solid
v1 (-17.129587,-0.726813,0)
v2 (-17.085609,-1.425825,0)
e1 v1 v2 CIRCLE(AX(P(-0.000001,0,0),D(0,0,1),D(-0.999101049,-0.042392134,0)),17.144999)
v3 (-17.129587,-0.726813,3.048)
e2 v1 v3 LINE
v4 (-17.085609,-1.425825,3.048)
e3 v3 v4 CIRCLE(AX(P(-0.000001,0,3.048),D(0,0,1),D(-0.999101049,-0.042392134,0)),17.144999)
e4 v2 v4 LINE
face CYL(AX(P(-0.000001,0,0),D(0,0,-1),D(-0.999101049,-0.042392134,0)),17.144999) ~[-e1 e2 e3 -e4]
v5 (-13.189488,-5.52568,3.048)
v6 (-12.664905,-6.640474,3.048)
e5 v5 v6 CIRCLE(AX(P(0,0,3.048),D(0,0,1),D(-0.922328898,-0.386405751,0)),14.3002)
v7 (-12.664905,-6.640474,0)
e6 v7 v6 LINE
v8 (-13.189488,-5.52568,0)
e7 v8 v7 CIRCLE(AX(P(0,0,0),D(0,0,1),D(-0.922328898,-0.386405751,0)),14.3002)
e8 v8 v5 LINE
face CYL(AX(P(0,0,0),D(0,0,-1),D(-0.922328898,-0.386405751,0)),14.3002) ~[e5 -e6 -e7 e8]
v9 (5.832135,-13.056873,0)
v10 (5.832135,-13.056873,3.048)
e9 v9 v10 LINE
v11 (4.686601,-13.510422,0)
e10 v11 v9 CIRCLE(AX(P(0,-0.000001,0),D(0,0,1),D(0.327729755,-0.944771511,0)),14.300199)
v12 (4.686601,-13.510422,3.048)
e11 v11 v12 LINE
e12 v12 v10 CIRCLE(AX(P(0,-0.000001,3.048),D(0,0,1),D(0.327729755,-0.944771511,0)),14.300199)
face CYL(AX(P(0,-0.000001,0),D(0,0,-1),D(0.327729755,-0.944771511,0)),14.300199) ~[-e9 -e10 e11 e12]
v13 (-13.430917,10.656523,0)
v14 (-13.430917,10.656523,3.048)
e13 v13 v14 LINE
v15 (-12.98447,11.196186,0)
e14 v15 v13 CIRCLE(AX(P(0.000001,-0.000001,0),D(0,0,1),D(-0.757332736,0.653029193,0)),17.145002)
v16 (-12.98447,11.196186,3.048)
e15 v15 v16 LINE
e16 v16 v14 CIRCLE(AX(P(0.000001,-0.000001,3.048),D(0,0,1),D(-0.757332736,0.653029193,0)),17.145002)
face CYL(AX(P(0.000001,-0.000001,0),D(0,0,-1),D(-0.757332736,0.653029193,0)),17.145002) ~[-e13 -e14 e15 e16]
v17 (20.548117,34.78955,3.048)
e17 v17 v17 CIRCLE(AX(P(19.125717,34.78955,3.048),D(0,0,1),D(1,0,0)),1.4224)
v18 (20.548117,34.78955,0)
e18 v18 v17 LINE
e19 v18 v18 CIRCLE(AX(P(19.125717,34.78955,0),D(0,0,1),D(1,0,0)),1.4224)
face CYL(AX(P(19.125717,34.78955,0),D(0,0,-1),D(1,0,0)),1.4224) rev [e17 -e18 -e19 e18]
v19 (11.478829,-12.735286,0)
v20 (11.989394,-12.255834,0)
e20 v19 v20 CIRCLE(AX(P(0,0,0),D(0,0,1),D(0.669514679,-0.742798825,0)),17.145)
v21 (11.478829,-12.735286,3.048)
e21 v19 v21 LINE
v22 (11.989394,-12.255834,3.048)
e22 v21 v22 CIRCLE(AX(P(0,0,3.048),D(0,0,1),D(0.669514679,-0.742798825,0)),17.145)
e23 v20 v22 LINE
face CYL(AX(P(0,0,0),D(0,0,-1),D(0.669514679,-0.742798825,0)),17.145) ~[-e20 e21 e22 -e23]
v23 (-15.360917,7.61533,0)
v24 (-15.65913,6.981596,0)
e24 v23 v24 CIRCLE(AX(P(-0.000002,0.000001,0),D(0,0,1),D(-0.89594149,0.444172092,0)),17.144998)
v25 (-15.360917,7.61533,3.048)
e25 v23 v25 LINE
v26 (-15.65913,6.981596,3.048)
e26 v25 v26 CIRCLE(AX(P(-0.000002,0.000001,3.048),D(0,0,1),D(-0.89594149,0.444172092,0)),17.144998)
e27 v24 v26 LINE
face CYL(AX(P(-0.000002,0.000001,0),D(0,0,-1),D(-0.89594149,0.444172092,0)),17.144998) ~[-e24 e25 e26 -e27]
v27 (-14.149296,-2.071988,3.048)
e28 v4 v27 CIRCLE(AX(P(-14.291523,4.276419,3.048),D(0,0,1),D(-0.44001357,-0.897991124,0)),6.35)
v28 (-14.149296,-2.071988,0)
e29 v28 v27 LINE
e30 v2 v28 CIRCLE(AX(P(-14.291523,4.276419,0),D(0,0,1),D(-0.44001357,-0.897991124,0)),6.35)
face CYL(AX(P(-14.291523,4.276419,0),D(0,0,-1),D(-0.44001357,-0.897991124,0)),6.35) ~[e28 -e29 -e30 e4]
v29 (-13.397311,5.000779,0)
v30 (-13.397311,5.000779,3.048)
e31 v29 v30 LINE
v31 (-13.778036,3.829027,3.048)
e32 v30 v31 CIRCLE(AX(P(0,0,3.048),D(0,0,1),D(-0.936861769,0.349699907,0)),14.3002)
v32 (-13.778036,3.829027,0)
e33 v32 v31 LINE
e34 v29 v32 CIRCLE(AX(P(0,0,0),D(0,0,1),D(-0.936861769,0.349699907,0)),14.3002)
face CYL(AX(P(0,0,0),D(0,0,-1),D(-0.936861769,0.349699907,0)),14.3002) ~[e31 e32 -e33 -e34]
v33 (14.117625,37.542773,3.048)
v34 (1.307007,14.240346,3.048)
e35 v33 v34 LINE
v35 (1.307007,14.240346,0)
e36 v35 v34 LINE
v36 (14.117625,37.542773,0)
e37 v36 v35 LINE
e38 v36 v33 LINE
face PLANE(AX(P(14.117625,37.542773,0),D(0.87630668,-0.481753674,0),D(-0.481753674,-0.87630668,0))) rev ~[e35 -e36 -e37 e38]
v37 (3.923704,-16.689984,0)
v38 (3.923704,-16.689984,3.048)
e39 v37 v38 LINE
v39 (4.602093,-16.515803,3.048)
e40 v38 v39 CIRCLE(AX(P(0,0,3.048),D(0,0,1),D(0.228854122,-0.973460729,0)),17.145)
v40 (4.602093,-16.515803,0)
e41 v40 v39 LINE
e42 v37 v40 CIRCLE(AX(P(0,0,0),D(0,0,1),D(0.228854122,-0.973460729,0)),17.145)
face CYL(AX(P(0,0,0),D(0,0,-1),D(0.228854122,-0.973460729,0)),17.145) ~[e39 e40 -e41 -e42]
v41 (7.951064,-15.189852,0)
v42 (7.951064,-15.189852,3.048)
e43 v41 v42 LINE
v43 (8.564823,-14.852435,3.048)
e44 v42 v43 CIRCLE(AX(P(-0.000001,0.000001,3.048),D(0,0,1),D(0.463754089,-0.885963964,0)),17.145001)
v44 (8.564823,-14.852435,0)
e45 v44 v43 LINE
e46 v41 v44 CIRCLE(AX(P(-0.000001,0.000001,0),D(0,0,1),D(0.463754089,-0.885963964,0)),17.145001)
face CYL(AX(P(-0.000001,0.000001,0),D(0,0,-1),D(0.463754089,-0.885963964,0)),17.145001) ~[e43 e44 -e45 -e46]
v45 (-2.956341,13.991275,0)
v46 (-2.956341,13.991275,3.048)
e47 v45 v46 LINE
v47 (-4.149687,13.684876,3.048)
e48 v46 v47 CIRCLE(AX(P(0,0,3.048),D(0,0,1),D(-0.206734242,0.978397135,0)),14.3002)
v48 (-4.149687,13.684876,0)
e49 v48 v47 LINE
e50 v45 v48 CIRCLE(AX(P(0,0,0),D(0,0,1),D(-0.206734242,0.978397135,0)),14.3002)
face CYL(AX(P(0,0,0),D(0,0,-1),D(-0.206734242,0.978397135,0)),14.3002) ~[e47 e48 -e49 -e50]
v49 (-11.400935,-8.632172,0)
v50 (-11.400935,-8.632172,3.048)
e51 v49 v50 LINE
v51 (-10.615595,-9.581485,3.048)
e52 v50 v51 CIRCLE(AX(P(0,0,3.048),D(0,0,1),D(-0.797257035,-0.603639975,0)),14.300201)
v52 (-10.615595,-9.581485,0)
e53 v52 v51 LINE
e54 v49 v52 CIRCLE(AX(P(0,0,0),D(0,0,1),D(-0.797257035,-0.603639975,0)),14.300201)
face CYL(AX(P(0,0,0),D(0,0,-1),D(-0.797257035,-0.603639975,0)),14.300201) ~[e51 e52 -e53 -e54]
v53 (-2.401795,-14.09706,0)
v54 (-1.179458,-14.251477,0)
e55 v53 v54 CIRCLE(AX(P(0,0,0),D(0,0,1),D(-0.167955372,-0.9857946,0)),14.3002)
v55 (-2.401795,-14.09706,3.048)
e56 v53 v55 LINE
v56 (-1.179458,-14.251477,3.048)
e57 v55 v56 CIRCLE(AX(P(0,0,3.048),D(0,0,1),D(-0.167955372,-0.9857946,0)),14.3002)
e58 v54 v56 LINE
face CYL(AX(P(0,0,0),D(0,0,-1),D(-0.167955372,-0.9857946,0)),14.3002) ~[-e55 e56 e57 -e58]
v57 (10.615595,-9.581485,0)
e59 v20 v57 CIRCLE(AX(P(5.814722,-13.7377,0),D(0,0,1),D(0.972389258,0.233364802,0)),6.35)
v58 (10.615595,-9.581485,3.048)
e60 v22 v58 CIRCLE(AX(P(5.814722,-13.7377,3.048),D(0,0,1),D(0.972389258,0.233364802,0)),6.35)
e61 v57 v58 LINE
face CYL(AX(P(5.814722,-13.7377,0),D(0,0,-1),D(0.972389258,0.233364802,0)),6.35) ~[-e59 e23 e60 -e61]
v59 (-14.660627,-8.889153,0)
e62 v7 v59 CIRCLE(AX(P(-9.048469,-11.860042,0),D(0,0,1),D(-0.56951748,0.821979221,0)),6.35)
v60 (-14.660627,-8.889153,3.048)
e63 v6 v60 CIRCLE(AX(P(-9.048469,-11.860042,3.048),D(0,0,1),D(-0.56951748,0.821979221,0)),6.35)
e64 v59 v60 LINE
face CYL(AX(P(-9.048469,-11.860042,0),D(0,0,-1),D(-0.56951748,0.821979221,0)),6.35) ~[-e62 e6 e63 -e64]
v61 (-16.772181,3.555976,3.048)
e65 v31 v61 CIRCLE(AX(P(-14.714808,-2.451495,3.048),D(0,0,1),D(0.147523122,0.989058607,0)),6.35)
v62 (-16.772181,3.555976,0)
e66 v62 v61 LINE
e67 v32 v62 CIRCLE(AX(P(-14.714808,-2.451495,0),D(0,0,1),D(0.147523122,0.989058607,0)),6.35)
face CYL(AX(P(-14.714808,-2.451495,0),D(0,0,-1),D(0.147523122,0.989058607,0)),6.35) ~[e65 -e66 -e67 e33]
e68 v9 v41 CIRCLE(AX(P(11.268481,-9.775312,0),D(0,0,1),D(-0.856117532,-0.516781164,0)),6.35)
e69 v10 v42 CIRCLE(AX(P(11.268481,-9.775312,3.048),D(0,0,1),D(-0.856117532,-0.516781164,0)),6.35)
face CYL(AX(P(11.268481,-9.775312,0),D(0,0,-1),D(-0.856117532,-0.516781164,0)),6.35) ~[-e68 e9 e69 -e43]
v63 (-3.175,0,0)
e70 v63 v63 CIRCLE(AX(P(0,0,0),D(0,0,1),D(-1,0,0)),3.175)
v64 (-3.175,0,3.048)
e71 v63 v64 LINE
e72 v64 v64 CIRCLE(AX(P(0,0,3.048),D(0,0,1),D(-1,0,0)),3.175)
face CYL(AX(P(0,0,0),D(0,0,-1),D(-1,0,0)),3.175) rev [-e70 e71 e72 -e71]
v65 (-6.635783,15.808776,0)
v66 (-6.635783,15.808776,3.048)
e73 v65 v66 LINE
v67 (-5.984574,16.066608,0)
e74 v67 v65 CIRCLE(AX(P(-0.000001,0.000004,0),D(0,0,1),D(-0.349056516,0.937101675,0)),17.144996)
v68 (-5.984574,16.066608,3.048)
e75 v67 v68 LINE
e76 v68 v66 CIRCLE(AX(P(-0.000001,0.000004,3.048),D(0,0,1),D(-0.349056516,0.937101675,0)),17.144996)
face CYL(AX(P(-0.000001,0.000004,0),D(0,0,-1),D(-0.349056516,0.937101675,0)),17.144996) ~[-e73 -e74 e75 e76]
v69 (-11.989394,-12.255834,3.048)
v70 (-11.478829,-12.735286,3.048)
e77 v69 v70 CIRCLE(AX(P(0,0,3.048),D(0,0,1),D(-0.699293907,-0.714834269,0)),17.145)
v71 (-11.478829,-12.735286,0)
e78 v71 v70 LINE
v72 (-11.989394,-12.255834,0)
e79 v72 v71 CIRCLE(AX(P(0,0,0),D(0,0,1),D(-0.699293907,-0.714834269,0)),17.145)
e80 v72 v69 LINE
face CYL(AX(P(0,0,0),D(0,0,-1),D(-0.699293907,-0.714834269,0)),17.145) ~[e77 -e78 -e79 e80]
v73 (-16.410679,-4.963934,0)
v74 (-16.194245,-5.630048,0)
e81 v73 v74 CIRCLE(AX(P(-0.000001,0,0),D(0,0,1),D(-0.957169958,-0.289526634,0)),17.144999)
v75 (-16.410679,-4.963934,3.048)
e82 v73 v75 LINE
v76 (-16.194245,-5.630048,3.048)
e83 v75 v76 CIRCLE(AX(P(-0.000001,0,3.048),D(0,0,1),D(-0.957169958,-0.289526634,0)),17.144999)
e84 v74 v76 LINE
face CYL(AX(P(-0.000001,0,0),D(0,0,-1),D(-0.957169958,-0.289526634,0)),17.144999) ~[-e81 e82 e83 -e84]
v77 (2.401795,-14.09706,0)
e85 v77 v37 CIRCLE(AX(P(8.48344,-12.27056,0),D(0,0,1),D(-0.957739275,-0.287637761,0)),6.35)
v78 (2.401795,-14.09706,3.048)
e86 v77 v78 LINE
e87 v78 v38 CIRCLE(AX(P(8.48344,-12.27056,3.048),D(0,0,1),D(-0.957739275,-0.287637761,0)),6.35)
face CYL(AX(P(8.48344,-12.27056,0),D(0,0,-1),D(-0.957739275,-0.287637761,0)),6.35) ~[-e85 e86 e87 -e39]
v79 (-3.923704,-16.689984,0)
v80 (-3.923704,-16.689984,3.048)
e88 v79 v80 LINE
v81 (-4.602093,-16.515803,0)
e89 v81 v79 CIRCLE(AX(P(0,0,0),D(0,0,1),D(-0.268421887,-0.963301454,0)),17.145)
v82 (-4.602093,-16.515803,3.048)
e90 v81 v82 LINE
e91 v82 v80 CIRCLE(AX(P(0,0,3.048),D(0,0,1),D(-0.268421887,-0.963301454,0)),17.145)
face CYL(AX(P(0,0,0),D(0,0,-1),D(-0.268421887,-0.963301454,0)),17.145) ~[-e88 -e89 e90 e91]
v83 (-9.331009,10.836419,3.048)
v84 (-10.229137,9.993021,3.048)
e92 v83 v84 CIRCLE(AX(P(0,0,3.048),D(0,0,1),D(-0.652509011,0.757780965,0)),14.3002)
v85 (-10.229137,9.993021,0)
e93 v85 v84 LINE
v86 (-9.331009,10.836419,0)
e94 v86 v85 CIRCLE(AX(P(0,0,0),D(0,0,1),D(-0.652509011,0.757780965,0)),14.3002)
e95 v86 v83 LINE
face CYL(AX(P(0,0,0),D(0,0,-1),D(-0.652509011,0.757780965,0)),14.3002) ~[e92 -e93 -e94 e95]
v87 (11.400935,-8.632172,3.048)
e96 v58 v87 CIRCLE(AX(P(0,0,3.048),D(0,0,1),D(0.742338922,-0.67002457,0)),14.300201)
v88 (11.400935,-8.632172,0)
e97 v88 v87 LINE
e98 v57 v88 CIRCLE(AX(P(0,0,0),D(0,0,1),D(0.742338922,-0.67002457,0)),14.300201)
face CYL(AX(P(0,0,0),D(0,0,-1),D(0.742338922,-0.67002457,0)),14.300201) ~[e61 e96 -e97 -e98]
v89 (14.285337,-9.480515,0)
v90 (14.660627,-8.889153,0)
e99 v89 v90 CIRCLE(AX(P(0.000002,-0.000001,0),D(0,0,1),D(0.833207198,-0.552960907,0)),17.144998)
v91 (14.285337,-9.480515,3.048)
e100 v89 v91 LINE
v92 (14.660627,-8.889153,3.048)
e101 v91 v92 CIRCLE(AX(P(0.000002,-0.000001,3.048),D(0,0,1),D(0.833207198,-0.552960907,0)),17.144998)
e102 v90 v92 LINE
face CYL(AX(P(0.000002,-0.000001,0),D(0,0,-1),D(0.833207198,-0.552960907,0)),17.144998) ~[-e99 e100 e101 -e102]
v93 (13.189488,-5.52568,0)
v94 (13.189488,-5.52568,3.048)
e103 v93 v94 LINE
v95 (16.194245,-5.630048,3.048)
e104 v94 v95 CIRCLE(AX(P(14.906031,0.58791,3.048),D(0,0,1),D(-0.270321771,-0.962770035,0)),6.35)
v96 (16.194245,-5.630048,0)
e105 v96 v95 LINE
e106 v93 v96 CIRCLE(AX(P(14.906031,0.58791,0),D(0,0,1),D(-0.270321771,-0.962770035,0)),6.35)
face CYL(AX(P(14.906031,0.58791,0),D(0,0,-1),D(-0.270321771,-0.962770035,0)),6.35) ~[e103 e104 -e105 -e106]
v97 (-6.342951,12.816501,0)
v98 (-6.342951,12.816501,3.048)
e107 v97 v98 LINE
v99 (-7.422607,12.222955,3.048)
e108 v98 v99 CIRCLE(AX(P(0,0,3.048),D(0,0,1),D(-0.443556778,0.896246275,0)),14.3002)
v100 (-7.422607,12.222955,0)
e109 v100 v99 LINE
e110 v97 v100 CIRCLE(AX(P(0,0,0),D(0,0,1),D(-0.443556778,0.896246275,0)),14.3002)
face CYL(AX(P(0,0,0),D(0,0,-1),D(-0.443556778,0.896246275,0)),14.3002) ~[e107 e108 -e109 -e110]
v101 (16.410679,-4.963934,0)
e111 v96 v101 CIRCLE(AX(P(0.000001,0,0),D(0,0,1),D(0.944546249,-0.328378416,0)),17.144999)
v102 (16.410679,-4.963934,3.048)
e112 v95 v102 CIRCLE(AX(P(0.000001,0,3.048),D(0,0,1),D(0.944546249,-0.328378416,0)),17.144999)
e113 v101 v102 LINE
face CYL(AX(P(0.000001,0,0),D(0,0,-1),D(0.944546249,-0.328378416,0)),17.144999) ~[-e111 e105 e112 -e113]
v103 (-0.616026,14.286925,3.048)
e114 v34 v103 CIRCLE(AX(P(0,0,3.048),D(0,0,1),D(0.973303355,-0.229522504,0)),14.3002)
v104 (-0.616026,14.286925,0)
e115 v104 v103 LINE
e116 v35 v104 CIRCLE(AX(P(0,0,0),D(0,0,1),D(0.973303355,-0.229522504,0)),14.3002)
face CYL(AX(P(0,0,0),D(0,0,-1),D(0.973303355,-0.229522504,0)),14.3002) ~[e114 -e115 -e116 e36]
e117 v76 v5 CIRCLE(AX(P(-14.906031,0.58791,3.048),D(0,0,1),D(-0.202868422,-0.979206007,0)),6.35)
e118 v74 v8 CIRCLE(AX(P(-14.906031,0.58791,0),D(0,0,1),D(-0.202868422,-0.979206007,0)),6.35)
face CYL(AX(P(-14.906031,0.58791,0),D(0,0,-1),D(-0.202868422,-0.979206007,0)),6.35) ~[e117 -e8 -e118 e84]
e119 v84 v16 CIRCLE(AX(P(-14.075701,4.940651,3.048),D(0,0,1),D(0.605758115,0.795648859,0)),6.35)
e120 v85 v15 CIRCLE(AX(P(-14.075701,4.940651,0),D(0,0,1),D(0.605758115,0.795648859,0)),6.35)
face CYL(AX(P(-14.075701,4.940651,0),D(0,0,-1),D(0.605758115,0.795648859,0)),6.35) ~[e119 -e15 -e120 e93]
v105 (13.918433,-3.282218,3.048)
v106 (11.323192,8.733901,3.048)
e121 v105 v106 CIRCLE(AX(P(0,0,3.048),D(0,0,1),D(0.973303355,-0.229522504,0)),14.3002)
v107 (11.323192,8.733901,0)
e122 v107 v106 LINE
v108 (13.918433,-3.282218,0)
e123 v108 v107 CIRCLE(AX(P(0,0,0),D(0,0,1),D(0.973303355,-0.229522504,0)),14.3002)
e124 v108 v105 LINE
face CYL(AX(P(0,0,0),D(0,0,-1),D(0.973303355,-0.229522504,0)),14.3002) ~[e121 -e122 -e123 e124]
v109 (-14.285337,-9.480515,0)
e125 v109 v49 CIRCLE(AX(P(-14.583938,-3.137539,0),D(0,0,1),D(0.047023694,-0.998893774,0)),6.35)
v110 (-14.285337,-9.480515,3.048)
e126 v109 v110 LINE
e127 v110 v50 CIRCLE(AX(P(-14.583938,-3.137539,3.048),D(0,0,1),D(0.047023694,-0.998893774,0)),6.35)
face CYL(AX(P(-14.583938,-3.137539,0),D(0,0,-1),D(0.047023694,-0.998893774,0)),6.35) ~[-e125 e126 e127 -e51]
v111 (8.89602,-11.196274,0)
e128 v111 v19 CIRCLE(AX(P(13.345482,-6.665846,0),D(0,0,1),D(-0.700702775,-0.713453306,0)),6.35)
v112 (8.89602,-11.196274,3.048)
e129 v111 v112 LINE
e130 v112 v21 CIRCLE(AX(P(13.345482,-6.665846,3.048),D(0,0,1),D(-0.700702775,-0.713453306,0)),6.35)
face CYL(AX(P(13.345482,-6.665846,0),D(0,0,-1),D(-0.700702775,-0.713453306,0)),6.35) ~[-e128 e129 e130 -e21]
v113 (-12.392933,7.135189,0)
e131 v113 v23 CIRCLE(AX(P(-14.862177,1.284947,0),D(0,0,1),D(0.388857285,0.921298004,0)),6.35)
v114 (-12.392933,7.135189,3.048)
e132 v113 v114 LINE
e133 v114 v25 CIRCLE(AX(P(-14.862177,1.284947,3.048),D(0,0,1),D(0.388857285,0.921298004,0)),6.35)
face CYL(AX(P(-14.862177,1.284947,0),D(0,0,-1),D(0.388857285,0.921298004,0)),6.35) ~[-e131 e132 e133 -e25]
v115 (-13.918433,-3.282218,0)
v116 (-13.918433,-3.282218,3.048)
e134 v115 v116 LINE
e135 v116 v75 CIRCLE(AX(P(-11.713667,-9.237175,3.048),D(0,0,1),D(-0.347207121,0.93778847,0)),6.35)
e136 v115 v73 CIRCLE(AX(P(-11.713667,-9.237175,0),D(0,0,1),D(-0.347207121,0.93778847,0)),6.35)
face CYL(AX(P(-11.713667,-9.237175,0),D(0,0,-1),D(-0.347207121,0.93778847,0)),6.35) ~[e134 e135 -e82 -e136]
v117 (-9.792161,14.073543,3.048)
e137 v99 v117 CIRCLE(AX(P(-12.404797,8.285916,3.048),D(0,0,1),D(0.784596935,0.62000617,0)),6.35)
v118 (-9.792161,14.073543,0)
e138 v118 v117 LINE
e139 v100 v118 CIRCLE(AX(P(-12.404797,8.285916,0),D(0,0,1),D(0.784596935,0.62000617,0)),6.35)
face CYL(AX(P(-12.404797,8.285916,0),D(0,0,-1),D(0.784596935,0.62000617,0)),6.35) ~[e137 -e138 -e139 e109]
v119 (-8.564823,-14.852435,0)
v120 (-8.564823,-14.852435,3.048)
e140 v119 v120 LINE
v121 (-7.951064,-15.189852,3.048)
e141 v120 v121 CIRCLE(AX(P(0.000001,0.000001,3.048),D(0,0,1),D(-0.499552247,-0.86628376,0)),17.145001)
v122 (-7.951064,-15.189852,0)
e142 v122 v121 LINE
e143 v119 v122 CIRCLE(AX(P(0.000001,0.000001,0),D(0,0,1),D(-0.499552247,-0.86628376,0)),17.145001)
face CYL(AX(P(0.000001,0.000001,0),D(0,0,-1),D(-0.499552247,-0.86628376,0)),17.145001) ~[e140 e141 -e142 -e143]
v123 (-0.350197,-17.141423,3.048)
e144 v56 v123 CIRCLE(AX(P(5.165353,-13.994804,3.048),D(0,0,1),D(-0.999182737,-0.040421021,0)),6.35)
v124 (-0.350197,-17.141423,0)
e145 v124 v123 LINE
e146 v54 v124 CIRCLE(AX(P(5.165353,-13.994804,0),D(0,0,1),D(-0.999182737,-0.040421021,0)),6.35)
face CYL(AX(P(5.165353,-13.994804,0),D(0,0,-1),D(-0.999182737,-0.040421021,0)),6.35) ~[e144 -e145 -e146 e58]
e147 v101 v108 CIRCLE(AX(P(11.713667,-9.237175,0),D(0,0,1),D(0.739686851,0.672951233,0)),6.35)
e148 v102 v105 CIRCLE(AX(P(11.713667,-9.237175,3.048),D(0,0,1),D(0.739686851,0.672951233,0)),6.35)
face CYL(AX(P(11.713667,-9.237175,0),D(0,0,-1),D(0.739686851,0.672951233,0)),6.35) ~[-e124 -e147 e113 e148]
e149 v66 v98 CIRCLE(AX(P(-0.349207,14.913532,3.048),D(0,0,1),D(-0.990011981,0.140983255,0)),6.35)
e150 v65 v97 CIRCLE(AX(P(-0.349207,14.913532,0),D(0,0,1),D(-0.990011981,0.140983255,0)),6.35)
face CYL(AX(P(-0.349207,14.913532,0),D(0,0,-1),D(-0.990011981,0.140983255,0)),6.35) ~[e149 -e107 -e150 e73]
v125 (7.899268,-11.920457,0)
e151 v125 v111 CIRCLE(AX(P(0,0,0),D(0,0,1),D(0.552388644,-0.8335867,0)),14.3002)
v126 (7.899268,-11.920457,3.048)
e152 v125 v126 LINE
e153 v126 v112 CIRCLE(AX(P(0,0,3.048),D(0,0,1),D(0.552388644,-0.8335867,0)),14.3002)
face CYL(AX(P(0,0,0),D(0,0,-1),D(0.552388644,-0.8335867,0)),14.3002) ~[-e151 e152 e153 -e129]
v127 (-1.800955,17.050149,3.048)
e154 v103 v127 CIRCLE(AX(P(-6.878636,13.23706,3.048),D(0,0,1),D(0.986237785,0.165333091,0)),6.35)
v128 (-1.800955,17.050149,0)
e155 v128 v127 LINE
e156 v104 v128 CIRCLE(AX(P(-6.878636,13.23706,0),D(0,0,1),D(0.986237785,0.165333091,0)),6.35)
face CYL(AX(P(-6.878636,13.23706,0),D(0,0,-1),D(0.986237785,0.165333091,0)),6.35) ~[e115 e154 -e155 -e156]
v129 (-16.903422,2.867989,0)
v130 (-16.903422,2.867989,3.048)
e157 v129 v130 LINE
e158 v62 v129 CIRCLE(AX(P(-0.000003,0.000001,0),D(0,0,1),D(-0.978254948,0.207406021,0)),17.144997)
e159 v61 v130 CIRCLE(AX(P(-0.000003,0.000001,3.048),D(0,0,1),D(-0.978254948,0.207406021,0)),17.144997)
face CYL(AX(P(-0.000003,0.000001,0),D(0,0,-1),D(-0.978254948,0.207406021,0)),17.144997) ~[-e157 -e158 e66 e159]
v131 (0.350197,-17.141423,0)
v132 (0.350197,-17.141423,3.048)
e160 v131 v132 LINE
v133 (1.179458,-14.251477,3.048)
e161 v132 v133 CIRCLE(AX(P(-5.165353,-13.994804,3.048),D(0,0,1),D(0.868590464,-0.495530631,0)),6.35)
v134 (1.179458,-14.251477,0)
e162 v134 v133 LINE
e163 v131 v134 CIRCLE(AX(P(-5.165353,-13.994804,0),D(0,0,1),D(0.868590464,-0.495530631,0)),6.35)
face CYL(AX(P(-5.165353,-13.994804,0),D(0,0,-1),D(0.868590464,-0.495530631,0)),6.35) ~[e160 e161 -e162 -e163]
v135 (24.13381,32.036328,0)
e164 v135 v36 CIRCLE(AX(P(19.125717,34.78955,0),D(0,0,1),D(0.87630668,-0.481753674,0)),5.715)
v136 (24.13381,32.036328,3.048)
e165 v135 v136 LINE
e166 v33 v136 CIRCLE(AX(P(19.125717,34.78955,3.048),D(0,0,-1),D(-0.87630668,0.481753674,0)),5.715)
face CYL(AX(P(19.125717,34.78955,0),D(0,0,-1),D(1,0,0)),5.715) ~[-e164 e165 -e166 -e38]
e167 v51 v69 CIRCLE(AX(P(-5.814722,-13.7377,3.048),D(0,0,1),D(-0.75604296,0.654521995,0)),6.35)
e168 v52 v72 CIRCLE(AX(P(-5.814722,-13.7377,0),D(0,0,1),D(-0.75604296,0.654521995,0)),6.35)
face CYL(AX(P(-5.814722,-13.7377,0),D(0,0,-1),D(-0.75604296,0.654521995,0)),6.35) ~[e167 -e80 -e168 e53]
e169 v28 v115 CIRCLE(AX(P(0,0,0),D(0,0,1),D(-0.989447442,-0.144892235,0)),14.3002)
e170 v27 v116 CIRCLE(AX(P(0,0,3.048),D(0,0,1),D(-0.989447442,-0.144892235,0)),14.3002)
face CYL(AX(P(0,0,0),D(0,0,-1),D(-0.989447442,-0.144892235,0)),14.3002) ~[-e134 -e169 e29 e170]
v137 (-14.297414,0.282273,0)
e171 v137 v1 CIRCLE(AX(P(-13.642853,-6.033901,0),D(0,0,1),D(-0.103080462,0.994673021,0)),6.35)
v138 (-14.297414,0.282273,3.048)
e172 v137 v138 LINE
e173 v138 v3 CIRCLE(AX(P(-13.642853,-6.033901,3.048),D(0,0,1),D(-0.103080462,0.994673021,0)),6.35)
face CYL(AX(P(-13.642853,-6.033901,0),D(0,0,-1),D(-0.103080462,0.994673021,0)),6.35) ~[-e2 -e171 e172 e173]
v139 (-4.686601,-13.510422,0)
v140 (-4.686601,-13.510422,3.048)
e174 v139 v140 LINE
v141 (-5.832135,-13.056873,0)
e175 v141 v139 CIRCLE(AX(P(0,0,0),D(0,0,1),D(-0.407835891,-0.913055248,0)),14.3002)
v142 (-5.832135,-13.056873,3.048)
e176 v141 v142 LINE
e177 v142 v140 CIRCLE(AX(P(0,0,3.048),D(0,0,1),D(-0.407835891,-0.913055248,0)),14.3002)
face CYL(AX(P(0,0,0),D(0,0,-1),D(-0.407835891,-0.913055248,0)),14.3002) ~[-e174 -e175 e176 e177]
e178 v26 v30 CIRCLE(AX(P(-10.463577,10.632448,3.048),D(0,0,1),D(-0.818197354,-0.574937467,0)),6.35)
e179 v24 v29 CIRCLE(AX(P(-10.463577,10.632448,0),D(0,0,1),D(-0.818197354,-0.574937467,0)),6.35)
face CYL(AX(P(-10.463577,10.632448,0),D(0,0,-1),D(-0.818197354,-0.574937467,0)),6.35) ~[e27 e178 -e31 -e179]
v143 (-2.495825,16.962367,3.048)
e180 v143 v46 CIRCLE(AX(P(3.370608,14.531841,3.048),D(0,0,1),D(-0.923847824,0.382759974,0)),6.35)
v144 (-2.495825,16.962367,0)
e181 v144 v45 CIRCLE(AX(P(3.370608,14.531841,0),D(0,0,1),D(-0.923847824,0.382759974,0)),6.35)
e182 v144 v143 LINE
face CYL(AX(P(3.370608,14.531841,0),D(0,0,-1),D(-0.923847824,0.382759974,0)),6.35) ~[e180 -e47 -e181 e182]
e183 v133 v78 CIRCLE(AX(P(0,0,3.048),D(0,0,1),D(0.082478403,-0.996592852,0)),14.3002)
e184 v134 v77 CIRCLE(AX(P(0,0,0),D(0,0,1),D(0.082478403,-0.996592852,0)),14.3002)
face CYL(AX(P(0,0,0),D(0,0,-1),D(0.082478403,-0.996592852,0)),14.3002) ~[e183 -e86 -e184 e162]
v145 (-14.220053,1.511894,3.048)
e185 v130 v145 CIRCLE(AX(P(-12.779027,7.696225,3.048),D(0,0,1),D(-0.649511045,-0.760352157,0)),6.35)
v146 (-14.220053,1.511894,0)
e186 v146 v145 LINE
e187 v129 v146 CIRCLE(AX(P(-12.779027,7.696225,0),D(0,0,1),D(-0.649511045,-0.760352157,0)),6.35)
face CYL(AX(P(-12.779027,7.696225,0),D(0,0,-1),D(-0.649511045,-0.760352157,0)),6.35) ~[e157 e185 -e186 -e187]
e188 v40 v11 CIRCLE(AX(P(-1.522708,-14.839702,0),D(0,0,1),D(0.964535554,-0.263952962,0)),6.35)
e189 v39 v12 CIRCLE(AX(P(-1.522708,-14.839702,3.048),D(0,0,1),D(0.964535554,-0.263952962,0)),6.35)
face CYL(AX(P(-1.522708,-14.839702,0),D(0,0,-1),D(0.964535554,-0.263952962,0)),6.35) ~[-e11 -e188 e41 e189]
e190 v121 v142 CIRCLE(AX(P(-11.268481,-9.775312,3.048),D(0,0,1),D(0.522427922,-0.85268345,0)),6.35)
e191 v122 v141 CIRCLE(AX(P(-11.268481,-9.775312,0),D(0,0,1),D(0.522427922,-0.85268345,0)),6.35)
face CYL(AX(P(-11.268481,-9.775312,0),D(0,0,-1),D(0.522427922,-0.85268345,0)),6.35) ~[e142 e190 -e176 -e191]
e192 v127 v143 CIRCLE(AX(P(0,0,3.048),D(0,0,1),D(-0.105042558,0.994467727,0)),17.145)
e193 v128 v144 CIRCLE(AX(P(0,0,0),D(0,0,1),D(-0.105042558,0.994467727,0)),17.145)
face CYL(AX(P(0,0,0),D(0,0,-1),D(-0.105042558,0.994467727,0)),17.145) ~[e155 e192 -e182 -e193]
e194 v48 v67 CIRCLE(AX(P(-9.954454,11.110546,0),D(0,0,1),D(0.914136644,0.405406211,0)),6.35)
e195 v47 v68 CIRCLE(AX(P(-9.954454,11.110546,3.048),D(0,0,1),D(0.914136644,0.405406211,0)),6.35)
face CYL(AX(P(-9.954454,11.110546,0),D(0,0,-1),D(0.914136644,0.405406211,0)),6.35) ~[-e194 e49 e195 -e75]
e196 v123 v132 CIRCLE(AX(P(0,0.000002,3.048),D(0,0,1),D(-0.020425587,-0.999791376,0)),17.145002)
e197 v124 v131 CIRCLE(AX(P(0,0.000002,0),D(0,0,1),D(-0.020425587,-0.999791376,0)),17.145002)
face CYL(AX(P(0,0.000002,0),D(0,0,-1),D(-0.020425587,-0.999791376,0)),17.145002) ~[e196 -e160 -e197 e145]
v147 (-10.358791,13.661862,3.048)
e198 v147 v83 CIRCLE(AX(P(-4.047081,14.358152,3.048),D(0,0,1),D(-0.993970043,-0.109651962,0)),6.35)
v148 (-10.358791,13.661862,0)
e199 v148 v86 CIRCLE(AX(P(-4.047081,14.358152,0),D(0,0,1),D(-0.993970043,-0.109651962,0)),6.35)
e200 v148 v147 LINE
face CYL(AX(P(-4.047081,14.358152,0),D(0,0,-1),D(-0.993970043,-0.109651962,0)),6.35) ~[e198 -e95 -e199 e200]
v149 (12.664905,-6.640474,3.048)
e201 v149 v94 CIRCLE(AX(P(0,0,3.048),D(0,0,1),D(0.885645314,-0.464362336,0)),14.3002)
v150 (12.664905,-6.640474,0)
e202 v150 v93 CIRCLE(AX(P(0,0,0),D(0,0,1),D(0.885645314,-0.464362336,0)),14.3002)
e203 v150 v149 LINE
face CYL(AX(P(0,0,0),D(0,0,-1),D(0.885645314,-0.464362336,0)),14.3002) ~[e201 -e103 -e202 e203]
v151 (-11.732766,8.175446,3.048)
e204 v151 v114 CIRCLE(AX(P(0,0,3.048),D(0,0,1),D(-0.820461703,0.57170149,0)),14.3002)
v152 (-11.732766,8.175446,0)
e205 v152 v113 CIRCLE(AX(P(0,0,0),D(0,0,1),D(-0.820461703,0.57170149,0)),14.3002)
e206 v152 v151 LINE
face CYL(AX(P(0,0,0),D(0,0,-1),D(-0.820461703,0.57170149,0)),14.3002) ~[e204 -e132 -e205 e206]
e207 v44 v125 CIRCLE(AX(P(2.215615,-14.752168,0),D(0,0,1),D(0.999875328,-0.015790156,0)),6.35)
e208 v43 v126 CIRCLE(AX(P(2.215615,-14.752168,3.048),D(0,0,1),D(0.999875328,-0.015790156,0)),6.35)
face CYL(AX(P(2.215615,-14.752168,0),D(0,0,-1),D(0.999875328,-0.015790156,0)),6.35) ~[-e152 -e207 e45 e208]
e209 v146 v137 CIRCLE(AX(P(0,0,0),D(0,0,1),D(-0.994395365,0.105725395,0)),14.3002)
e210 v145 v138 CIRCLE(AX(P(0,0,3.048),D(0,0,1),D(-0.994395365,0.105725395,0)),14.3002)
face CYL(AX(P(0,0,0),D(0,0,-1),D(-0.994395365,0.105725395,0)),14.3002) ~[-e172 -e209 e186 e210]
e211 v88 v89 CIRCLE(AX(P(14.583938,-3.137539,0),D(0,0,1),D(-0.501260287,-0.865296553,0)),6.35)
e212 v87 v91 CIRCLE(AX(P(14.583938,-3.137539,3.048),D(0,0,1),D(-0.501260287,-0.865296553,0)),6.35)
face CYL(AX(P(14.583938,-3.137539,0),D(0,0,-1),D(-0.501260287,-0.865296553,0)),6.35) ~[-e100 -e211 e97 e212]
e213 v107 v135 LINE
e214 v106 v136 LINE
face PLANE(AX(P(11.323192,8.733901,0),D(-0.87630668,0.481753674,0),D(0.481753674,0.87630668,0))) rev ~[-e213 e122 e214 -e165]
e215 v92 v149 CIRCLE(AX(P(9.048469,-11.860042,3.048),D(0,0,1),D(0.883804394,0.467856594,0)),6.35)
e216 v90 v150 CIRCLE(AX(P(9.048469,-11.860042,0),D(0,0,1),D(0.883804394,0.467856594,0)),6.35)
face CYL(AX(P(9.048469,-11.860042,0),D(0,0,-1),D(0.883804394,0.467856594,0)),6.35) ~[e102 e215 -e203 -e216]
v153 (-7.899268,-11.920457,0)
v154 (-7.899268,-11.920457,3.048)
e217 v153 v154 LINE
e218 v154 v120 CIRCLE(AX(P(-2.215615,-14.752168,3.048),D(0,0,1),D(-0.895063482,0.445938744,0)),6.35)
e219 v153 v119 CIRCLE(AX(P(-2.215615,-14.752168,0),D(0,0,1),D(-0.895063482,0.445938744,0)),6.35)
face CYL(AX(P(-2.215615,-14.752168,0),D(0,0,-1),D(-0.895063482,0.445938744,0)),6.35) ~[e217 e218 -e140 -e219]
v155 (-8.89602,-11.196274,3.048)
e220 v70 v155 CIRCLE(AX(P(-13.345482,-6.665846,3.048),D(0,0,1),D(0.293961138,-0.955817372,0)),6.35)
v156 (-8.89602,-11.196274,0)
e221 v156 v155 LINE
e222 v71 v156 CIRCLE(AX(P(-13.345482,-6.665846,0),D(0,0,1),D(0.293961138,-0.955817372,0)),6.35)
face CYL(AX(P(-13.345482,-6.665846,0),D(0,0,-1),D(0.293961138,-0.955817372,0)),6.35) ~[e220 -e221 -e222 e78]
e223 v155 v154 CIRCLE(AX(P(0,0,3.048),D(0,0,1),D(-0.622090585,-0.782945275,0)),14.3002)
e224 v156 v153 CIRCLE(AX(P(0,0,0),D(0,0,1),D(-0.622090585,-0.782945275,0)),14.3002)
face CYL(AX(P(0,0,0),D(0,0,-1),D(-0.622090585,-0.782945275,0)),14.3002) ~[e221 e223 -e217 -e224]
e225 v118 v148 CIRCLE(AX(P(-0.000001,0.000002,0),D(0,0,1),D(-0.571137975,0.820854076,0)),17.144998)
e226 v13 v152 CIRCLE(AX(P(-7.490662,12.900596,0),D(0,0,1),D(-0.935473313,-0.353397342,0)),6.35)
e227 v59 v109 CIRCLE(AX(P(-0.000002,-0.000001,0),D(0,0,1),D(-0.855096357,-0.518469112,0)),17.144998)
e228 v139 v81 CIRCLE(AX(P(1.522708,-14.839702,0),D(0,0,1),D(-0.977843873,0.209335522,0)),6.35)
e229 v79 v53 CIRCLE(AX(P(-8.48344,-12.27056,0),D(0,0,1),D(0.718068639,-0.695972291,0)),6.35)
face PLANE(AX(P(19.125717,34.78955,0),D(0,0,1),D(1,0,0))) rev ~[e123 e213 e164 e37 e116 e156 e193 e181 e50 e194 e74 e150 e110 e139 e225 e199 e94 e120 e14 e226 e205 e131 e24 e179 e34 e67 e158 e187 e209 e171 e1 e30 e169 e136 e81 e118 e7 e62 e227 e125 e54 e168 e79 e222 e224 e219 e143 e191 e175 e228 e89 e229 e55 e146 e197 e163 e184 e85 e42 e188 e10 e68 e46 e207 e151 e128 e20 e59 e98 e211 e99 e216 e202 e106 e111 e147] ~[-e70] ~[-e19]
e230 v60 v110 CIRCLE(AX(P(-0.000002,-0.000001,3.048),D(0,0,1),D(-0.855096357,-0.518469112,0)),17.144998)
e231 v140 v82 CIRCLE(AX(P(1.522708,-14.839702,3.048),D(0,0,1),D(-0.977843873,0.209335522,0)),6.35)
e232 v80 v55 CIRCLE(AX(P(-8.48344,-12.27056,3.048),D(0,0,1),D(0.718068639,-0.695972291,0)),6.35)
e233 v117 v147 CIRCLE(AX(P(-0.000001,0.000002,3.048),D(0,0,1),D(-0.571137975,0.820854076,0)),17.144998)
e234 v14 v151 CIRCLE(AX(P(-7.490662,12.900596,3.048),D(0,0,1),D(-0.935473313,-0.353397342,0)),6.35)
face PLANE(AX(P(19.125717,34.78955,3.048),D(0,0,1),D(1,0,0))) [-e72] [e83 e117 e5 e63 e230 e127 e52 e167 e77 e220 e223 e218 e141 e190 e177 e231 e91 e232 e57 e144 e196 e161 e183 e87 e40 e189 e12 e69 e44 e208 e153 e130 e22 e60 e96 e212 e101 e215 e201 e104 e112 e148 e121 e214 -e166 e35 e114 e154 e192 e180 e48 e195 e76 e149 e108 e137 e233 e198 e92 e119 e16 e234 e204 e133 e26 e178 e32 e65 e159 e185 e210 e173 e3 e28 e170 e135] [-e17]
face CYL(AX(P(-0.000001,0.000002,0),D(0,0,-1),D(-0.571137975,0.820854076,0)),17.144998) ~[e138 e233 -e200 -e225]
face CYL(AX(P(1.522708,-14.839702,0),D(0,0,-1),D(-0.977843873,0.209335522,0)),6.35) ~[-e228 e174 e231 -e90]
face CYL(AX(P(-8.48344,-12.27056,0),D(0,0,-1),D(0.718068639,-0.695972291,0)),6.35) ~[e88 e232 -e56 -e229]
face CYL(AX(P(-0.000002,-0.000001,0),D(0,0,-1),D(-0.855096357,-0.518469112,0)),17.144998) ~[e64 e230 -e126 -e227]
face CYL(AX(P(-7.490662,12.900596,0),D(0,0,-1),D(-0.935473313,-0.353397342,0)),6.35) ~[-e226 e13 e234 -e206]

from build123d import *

# Parameters (mm, degrees)
MODEL_R             = 3.175
BOSS_EXTRUDE1_DEPTH = 3.048
BOSS_EXTRUDE2_START = -3.048
SKETCH2_R           = 5.715
SKETCH2_R_2         = 1.4224
BOSS_EXTRUDE2_DEPTH = 3.048


with BuildPart() as part:
    # Model → Boss-Extrude1 (new body)
    with BuildSketch(Plane.XY):
        with BuildLine():
            ThreePointArc((-0.616026415, 14.286925194), (-1.042592722, 15.739677645), (-1.800954663, 17.050149187))
            ThreePointArc((-1.800954663, 17.050149187), (-2.148838289, 17.009806554), (-2.495825317, 16.962366609))
            ThreePointArc((-2.495825317, 16.962366609), (-2.904460903, 15.504468994), (-2.956341002, 13.991274707))
            ThreePointArc((-2.956341002, 13.991274707), (-3.556315124, 13.850932921), (-4.149686627, 13.684875627))
            ThreePointArc((-4.149686627, 13.684875627), (-4.924136412, 14.985904462), (-5.984574038, 16.066608185))
            ThreePointArc((-5.984574038, 16.066608185), (-6.311495456, 15.941017851), (-6.635783413, 15.808776154))
            ThreePointArc((-6.635783413, 15.808776154), (-6.669016568, 14.295057536), (-6.342950641, 12.816500973))
            ThreePointArc((-6.342950641, 12.816500973), (-6.88917389, 12.531360786), (-7.422606766, 12.222954996))
            ThreePointArc((-7.422606766, 12.222954996), (-8.496278501, 13.290511787), (-9.792160616, 14.073543103))
            ThreePointArc((-9.792160616, 14.073543103), (-10.077578151, 13.870596369), (-10.358790833, 13.661862153))
            ThreePointArc((-10.358790833, 13.661862153), (-10.014533394, 12.187435039), (-9.331009364, 10.836419348))
            ThreePointArc((-9.331009364, 10.836419348), (-9.789160524, 10.424397166), (-10.229137224, 9.993021149))
            ThreePointArc((-10.229137224, 9.993021149), (-11.534568165, 10.760027378), (-12.98446973, 11.196185548))
            ThreePointArc((-12.98446973, 11.196185548), (-13.210449547, 10.928634304), (-13.430917328, 10.656523107))
            ThreePointArc((-13.430917328, 10.656523107), (-12.730800257, 9.314031176), (-11.732766451, 8.175445642))
            ThreePointArc((-11.732766451, 8.175445642), (-12.0740582, 7.662430334), (-12.39293337, 7.135189032))
            ThreePointArc((-12.39293337, 7.135189032), (-13.84809849, 7.553450876), (-15.360916858, 7.615330478))
            ThreePointArc((-15.360916858, 7.615330478), (-15.513259815, 7.299985954), (-15.659129891, 6.981595523))
            ThreePointArc((-15.659129891, 6.981595523), (-14.647144119, 5.85539248), (-13.397310672, 5.000778618))
            ThreePointArc((-13.397310672, 5.000778618), (-13.600298394, 4.419004823), (-13.778035935, 3.829026746))
            ThreePointArc((-13.778035935, 3.829026746), (-15.291501858, 3.872263276), (-16.772181085, 3.555976188))
            ThreePointArc((-16.772181085, 3.555976188), (-16.841314914, 3.212652639), (-16.903421733, 2.867988616))
            ThreePointArc((-16.903421733, 2.867988616), (-15.643154047, 2.02883794), (-14.220052592, 1.511894283))
            ThreePointArc((-14.220052592, 1.511894283), (-14.271981822, 0.897916987), (-14.297413829, 0.282272628))
            ThreePointArc((-14.297413829, 0.282272628), (-15.774083925, -0.052232867), (-17.129587491, -0.726813165))
            ThreePointArc((-17.129587491, -0.726813165), (-17.111168259, -1.076543457), (-17.085609422, -1.425824564))
            ThreePointArc((-17.085609422, -1.425824564), (-15.656247076, -1.92519595), (-14.14929631, -2.071987931))
            ThreePointArc((-14.14929631, -2.071987931), (-14.046904143, -2.679590275), (-13.918432631, -3.282217718))
            ThreePointArc((-13.918432631, -3.282217718), (-15.265522286, -3.973447027), (-16.410678917, -4.963934173))
            ThreePointArc((-16.410678917, -4.963934173), (-16.305863972, -5.298096369), (-16.194245434, -5.630047943))
            ThreePointArc((-16.194245434, -5.630047943), (-14.68560052, -5.758262697), (-13.189487703, -5.525679522))
            ThreePointArc((-13.189487703, -5.525679522), (-12.939207816, -6.088729025), (-12.664905121, -6.640474253))
            ThreePointArc((-12.664905121, -6.640474253), (-13.797771739, -7.644994897), (-14.660627033, -8.889152941))
            ThreePointArc((-14.660627033, -8.889152941), (-14.476002283, -9.1867504), (-14.285337446, -9.480514703))
            ThreePointArc((-14.285337446, -9.480514703), (-12.792203675, -9.229516622), (-11.400935076, -8.632172348))
            ThreePointArc((-11.400935076, -8.632172348), (-11.018493474, -9.115290538), (-10.615595045, -9.581485369))
            ThreePointArc((-10.615595045, -9.581485369), (-11.46305645, -10.836179621), (-11.989394033, -12.255833538))
            ThreePointArc((-11.989394033, -12.255833538), (-11.736560131, -12.498167117), (-11.47882917, -12.735285858))
            ThreePointArc((-11.47882917, -12.735285858), (-10.095025626, -12.120846074), (-8.896019768, -11.196274037))
            ThreePointArc((-8.896019768, -11.196274037), (-8.405446665, -11.569104823), (-7.899268091, -11.920456521))
            ThreePointArc((-7.899268091, -11.920456521), (-8.408075165, -13.346487327), (-8.564823313, -14.85243504))
            ThreePointArc((-8.564823313, -14.85243504), (-8.259666742, -15.024278029), (-7.95106384, -15.189852165))
            ThreePointArc((-7.95106384, -15.189852165), (-6.76353999, -14.25057819), (-5.832134822, -13.056872652))
            ThreePointArc((-5.832134822, -13.056872652), (-5.264254728, -13.295989703), (-4.686601071, -13.510421549))
            ThreePointArc((-4.686601071, -13.510421549), (-4.824783595, -15.018186149), (-4.602093245, -16.515803425))
            ThreePointArc((-4.602093245, -16.515803425), (-4.263788115, -16.606358298), (-3.923703928, -16.689984197))
            ThreePointArc((-3.923703928, -16.689984197), (-3.007076261, -15.484894068), (-2.401795395, -14.097059939))
            ThreePointArc((-2.401795395, -14.097059939), (-1.792290307, -14.187438652), (-1.17945767, -14.251477104))
            ThreePointArc((-1.17945767, -14.251477104), (-0.938333127, -15.746237102), (-0.350196733, -17.14142314))
            ThreePointArc((-0.350196733, -17.14142314), (0, -17.145), (0.350196733, -17.14142314))
            ThreePointArc((0.350196733, -17.14142314), (0.938333127, -15.746237102), (1.17945767, -14.251477104))
            ThreePointArc((1.17945767, -14.251477104), (1.792290307, -14.187438652), (2.401795395, -14.097059939))
            ThreePointArc((2.401795395, -14.097059939), (3.007076261, -15.484894068), (3.923703928, -16.689984197))
            ThreePointArc((3.923703928, -16.689984197), (4.263788115, -16.606358298), (4.602093245, -16.515803425))
            ThreePointArc((4.602093245, -16.515803425), (4.824783595, -15.018186149), (4.686601071, -13.510421549))
            ThreePointArc((4.686601071, -13.510421549), (5.264254728, -13.295989704), (5.832134822, -13.056872652))
            ThreePointArc((5.832134822, -13.056872652), (6.76353999, -14.25057819), (7.95106384, -15.189852165))
            ThreePointArc((7.95106384, -15.189852165), (8.259666742, -15.024278029), (8.564823313, -14.85243504))
            ThreePointArc((8.564823313, -14.85243504), (8.408075165, -13.346487327), (7.899268091, -11.920456521))
            ThreePointArc((7.899268091, -11.920456521), (8.405446665, -11.569104823), (8.896019768, -11.196274037))
            ThreePointArc((8.896019768, -11.196274037), (10.095025626, -12.120846074), (11.47882917, -12.735285858))
            ThreePointArc((11.47882917, -12.735285858), (11.736560131, -12.498167117), (11.989394033, -12.255833538))
            ThreePointArc((11.989394033, -12.255833538), (11.46305645, -10.836179621), (10.615595045, -9.581485369))
            ThreePointArc((10.615595045, -9.581485369), (11.018493474, -9.115290538), (11.400935076, -8.632172348))
            ThreePointArc((11.400935076, -8.632172348), (12.792203675, -9.229516622), (14.285337446, -9.480514703))
            ThreePointArc((14.285337446, -9.480514703), (14.476002283, -9.1867504), (14.660627033, -8.889152941))
            ThreePointArc((14.660627033, -8.889152941), (13.797771739, -7.644994897), (12.664905121, -6.640474253))
            ThreePointArc((12.664905121, -6.640474253), (12.939207816, -6.088729025), (13.189487703, -5.525679522))
            ThreePointArc((13.189487703, -5.525679522), (14.68560052, -5.758262697), (16.194245434, -5.630047943))
            ThreePointArc((16.194245434, -5.630047943), (16.305863972, -5.298096369), (16.410678917, -4.963934173))
            ThreePointArc((16.410678917, -4.963934173), (15.265522286, -3.973447027), (13.918432631, -3.282217718))
            ThreePointArc((13.918432631, -3.282217718), (11.018493474, 9.115290538), (-0.616026415, 14.286925194))
        make_face()
        with Locations(Location((0, 0, 0), (0, 0, 180))):
            Circle(MODEL_R, mode=Mode.SUBTRACT)
    extrude(amount=BOSS_EXTRUDE1_DEPTH)

    # Sketch2 → Boss-Extrude2 (add)
    # profile 1 of 2: a face of its own
    with BuildSketch(Plane.XY.offset(3.048).offset(BOSS_EXTRUDE2_START)):
        with BuildLine():
            Line((14.117624536, 37.542772707), (1.307007018, 14.240345947))
            ThreePointArc((1.307007018, 14.240345947), (6.88917389, 12.531360786), (11.323192371, 8.733901452))
            Line((11.323192371, 8.733901452), (24.133809889, 32.036328212))
            ThreePointArc((24.133809889, 32.036328212), (16.372494965, 29.781457783), (14.117624536, 37.542772707))
        make_face()
    # profile 2 of 2: a face of its own
    with BuildSketch(Plane.XY.offset(3.048).offset(BOSS_EXTRUDE2_START)):
        with Locations((19.125717213, 34.789550459)):
            Circle(SKETCH2_R)
        with Locations((19.125717213, 34.789550459)):
            Circle(SKETCH2_R_2, mode=Mode.SUBTRACT)
    extrude(amount=BOSS_EXTRUDE2_DEPTH)


solid = part.part
